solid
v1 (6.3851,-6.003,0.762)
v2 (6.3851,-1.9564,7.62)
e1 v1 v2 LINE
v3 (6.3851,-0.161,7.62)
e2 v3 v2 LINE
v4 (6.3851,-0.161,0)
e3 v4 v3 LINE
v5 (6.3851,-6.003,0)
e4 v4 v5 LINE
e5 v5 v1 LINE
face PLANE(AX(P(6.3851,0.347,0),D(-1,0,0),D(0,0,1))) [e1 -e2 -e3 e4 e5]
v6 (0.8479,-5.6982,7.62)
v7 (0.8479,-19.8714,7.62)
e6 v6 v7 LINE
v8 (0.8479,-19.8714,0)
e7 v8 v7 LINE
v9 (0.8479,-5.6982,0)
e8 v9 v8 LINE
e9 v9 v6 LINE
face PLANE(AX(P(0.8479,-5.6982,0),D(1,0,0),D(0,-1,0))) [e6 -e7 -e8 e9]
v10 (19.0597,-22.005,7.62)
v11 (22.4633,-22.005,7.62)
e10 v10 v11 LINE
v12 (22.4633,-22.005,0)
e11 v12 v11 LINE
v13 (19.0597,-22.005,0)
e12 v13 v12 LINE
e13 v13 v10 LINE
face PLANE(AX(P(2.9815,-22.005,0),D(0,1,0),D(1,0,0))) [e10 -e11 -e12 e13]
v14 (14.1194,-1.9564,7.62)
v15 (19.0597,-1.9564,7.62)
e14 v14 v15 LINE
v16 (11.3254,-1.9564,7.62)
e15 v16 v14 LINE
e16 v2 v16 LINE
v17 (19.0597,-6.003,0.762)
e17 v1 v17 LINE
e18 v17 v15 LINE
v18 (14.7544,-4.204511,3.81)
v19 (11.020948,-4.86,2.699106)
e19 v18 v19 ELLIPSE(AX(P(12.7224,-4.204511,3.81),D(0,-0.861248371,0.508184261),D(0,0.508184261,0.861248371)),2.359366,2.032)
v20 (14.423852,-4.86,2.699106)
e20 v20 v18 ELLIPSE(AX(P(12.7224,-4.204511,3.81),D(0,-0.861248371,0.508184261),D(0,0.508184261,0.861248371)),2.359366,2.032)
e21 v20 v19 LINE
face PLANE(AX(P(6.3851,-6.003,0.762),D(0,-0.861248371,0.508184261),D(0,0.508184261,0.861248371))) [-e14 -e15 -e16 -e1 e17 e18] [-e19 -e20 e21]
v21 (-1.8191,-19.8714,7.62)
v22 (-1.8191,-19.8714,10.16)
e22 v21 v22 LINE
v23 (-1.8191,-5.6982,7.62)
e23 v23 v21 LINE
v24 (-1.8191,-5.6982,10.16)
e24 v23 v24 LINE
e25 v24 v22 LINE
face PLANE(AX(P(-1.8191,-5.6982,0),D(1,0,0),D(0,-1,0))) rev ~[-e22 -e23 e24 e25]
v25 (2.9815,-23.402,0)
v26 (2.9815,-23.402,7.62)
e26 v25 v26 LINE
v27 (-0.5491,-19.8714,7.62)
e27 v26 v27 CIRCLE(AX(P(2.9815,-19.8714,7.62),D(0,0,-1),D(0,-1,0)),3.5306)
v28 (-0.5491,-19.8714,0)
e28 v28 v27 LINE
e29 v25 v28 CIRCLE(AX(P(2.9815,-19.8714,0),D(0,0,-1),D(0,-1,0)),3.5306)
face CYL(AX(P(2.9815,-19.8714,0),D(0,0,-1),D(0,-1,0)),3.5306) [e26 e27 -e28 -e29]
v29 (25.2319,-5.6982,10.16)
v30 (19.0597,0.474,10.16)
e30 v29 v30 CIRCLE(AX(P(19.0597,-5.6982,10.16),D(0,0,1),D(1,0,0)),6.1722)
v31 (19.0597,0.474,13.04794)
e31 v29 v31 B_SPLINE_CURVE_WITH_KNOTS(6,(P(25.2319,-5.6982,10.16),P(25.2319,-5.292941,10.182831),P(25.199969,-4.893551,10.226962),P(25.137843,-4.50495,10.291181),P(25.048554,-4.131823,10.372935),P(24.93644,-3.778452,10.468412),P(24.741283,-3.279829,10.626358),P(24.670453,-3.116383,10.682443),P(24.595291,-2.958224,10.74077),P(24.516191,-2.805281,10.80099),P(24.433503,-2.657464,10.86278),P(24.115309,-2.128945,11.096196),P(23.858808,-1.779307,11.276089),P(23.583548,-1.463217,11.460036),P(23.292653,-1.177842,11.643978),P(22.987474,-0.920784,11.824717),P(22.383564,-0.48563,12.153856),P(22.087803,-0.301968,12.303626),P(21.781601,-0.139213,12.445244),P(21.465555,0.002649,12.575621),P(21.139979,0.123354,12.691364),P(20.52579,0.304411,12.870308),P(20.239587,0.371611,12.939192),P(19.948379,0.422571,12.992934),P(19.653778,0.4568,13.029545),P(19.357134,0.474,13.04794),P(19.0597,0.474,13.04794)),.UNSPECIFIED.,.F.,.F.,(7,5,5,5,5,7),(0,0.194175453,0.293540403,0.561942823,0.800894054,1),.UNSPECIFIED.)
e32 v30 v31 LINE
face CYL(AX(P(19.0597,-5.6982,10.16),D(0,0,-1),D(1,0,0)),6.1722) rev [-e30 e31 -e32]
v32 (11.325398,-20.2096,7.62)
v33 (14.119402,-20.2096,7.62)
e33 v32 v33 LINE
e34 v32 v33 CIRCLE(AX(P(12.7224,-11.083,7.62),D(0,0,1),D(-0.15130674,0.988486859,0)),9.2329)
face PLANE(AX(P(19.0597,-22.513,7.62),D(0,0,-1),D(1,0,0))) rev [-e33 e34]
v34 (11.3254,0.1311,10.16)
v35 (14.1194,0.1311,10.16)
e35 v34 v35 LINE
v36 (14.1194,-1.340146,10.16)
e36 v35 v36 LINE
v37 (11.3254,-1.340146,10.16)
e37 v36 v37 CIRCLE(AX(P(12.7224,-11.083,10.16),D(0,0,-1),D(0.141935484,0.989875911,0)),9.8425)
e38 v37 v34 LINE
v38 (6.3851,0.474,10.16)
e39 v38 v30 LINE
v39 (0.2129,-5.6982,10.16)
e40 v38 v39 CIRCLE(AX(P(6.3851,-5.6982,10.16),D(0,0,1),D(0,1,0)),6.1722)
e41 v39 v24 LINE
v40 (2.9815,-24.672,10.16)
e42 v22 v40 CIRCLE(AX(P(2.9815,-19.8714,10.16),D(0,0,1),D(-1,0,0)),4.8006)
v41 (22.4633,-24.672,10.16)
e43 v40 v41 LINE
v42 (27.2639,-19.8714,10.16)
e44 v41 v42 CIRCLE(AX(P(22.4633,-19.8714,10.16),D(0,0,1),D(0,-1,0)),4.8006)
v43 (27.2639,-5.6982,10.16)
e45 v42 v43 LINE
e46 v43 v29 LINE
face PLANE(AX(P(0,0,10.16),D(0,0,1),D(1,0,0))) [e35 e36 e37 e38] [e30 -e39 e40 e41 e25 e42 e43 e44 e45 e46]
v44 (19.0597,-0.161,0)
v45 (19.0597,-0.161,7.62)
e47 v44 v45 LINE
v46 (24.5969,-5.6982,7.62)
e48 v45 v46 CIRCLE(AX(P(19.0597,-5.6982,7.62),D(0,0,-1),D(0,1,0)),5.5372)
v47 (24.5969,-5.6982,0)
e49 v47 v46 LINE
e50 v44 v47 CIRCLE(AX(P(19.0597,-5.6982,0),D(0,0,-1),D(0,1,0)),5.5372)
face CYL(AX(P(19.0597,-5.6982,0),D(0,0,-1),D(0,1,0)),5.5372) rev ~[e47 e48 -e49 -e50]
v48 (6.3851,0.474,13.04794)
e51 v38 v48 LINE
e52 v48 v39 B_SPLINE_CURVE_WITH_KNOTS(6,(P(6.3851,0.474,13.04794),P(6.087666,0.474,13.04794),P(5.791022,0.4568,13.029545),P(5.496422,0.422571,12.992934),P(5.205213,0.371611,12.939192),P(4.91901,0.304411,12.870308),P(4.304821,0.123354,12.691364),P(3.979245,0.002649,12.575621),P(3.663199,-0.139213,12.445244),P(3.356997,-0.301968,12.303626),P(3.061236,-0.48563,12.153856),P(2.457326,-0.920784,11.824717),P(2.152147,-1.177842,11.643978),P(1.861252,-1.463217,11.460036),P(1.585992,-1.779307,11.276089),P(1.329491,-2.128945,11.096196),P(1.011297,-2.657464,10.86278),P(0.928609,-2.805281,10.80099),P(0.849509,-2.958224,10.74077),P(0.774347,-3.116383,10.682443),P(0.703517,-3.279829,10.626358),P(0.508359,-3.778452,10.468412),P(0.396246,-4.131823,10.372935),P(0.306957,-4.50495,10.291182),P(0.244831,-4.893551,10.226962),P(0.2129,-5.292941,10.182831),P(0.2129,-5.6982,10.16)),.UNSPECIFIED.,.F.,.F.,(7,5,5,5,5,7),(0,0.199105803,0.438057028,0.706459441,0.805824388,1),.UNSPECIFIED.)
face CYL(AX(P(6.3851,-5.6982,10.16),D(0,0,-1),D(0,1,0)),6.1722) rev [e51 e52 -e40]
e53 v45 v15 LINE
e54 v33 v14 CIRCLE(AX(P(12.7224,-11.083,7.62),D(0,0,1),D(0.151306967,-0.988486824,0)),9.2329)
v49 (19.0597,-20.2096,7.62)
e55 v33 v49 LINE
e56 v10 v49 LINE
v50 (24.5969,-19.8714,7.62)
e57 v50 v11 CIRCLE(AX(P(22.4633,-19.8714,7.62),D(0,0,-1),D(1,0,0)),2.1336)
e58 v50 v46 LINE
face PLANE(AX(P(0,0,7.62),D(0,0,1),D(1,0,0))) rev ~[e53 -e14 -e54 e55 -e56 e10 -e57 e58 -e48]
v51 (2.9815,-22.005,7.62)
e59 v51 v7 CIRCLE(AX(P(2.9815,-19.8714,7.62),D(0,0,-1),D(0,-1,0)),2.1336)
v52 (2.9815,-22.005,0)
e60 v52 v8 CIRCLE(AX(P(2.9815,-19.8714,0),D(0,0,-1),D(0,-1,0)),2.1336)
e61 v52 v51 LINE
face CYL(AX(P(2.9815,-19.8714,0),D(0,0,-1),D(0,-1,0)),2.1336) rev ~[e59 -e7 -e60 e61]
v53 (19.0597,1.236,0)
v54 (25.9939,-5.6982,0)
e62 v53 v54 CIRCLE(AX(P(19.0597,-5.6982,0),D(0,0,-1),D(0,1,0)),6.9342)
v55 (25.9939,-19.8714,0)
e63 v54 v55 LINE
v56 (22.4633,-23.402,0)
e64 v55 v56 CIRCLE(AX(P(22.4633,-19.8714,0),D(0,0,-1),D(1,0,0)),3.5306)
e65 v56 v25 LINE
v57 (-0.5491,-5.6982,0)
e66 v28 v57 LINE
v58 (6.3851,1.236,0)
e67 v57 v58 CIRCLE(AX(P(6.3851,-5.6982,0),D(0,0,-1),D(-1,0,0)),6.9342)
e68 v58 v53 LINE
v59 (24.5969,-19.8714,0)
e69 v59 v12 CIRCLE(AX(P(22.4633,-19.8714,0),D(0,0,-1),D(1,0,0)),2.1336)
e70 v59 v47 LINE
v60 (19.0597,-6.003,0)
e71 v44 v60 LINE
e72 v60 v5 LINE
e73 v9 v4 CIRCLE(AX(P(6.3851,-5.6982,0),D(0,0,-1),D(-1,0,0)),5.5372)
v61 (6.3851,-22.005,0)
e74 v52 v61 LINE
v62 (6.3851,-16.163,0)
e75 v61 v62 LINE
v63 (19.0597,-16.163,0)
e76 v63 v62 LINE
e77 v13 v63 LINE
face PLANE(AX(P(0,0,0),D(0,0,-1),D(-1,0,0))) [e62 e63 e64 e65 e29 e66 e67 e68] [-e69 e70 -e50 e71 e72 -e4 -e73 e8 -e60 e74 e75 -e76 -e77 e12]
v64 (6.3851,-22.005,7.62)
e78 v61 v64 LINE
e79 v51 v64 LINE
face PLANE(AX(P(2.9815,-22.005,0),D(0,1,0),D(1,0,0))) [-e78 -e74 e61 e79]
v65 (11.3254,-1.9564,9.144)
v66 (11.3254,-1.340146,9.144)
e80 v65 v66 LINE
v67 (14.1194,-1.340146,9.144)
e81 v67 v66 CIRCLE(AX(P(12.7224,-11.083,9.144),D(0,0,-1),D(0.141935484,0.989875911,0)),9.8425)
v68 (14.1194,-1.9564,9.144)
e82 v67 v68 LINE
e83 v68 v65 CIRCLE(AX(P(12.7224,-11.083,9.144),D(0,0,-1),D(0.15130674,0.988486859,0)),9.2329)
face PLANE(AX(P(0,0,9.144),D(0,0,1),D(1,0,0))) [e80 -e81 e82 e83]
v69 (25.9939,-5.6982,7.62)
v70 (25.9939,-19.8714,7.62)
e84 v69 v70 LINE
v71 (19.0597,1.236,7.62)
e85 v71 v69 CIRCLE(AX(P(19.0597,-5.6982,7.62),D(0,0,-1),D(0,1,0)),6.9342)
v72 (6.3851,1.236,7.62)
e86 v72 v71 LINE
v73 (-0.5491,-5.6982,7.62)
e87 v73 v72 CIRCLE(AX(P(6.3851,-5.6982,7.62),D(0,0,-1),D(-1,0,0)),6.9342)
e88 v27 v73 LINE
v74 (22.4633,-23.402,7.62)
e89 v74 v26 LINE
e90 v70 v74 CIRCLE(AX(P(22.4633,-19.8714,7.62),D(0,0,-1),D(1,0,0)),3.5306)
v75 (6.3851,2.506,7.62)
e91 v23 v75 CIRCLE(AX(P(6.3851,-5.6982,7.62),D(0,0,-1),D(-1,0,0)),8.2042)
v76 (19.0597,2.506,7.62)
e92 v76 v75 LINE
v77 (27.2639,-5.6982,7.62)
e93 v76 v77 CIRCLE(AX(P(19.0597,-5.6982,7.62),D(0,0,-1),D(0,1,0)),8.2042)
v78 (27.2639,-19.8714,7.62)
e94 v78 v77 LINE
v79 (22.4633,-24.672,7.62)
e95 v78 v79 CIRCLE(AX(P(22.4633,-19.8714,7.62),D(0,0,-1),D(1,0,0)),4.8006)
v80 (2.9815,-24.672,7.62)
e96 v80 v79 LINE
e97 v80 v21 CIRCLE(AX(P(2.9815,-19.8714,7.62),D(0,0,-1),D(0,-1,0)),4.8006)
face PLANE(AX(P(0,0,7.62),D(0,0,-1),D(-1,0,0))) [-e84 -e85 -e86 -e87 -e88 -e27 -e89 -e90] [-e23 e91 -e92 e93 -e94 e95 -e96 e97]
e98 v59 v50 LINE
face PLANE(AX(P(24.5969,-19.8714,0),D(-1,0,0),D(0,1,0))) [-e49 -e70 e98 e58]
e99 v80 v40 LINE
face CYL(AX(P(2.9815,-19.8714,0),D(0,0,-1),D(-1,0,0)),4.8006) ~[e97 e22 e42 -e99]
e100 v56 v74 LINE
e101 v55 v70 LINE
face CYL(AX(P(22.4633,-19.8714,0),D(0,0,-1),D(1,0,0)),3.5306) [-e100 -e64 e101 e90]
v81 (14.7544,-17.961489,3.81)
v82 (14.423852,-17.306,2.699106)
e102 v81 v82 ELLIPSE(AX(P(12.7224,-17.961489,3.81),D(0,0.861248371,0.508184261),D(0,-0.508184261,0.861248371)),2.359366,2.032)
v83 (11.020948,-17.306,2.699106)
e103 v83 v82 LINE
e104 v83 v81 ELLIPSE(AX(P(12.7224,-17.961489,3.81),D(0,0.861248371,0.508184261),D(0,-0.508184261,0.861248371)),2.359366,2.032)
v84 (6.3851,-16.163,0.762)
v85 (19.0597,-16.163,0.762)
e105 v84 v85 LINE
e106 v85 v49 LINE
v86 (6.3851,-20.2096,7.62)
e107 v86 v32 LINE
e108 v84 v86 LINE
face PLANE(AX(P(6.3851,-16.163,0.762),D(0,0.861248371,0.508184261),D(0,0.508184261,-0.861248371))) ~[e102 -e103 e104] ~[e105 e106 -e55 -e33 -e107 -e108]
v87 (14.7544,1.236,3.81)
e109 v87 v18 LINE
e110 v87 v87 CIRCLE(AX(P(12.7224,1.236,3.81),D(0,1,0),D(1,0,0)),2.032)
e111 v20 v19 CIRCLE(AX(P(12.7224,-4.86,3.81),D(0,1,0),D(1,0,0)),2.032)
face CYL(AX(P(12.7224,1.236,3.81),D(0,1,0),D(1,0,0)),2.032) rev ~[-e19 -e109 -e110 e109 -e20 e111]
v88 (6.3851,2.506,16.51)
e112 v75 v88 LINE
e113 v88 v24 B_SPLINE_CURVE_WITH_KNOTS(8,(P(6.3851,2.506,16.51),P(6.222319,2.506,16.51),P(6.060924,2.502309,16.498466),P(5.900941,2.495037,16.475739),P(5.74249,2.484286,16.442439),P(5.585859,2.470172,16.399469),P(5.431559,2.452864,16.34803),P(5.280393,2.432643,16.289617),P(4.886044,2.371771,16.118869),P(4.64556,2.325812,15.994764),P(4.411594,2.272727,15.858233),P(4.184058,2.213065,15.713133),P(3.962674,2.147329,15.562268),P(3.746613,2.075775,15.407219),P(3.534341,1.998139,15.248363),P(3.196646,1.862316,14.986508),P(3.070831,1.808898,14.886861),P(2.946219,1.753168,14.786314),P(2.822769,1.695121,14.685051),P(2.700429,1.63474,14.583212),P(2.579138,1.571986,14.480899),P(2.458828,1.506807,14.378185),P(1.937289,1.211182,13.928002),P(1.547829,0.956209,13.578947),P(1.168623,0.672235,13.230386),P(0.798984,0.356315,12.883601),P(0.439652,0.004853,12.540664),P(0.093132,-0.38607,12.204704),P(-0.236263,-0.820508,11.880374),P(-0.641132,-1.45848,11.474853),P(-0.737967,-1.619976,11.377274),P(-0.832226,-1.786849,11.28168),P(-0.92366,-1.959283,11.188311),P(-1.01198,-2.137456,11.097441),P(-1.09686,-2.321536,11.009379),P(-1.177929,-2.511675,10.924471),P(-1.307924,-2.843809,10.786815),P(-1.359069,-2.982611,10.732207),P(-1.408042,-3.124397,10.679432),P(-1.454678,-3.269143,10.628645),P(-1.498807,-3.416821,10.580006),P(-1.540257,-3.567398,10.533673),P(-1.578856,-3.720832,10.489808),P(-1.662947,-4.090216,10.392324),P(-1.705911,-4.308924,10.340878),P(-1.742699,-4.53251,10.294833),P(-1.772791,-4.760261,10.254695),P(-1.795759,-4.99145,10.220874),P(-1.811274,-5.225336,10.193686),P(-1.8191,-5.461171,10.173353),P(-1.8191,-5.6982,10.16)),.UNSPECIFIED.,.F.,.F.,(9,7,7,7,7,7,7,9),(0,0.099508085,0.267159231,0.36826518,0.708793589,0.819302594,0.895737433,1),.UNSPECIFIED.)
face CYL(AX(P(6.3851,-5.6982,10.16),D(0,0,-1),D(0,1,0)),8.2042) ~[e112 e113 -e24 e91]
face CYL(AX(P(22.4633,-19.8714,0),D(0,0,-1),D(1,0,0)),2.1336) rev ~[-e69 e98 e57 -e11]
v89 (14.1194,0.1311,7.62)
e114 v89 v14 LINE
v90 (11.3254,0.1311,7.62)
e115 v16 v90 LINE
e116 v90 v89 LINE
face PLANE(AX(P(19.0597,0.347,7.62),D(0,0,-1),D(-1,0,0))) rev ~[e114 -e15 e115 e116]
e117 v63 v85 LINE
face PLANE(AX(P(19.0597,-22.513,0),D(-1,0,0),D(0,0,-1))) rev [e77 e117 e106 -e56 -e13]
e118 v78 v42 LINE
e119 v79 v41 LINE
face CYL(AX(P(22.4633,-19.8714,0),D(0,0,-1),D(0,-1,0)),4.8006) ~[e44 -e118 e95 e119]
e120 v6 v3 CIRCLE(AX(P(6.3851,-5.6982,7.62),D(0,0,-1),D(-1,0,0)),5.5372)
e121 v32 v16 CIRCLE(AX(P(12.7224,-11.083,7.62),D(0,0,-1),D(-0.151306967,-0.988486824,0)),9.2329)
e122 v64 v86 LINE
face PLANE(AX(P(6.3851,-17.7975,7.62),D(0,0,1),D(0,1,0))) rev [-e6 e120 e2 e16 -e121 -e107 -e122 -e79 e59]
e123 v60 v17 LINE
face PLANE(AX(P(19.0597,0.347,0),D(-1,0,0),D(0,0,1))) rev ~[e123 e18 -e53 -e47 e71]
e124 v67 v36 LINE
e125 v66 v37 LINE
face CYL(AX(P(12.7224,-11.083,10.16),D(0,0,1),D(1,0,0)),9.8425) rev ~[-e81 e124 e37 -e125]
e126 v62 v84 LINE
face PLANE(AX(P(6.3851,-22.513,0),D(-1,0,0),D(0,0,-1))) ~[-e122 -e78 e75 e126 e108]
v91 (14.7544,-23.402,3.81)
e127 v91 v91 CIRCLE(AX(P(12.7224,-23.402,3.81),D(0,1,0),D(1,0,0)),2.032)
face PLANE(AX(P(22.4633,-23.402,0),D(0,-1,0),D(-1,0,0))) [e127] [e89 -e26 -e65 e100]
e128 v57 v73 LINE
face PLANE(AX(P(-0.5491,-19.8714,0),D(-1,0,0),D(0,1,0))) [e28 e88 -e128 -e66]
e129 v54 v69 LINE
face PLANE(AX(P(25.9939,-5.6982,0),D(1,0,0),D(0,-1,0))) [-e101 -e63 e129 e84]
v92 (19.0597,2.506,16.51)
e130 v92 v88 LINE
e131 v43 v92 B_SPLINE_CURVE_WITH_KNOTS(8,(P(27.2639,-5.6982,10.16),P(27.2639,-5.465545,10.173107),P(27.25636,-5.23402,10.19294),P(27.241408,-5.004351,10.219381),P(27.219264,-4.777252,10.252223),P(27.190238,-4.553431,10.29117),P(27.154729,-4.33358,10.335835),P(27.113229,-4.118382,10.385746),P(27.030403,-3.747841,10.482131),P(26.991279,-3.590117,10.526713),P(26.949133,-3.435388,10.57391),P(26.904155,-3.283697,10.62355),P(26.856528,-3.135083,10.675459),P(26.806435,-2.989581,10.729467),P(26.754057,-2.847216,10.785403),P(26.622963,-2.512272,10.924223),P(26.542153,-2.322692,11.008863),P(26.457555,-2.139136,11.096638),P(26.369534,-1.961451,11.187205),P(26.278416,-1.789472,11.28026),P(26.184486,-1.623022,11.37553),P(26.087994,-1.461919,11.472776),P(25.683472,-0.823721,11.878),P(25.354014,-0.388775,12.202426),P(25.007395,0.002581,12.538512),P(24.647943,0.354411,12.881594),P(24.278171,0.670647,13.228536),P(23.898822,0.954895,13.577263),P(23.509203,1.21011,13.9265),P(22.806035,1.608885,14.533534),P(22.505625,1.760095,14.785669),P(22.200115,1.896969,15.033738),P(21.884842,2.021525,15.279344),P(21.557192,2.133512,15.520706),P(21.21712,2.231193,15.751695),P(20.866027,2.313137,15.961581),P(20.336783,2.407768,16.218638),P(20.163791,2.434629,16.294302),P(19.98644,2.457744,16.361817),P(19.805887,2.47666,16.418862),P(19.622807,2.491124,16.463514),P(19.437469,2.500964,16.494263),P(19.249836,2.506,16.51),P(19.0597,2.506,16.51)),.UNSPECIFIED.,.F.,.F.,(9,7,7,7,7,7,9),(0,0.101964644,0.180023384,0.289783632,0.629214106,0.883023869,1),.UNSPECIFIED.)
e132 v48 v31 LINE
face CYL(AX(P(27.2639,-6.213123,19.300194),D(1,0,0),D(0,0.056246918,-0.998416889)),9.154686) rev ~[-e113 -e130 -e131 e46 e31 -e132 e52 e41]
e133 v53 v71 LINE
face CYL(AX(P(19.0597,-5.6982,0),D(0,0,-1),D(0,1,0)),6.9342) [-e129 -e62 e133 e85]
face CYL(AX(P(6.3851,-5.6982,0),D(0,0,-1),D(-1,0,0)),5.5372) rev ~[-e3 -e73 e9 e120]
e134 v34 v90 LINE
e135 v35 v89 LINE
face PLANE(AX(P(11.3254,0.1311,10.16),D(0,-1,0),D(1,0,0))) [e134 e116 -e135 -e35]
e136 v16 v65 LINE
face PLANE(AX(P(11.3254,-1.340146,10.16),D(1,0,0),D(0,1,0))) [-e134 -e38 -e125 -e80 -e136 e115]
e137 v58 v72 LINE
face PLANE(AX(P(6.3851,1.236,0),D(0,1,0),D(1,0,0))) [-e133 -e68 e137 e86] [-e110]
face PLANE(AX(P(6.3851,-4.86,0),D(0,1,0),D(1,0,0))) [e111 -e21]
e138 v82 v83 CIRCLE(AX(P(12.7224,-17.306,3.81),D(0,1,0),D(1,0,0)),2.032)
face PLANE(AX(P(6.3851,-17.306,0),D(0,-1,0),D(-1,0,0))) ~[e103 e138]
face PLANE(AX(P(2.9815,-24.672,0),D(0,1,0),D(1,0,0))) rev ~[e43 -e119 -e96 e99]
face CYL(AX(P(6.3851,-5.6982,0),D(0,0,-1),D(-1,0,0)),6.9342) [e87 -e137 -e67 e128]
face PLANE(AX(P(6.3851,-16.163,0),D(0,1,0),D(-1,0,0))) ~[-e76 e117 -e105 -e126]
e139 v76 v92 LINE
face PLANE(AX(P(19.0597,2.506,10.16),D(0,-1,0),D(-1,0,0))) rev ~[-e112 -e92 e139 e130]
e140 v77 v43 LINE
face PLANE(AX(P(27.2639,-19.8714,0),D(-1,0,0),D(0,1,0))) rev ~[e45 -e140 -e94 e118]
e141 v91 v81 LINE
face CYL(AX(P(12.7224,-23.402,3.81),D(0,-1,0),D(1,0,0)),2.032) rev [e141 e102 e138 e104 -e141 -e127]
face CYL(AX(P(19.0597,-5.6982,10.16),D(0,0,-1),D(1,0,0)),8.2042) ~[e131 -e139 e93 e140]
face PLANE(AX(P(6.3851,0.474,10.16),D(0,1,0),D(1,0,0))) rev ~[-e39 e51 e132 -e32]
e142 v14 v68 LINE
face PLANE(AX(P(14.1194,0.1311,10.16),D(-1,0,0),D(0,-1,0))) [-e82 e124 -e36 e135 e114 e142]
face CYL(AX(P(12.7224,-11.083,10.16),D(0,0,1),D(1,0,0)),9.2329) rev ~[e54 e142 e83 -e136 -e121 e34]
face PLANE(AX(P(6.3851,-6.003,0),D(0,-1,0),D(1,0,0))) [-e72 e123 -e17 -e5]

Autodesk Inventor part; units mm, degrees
ref_plane "XZ Plane" through (0, 0, 0) normal (0, 1, 0) x (-1, 0, 0)
ref_plane "XY Plane" through (0, 0, 0) normal (0, 0, 1) x (1, 0, 0)
sketch "Sketch2" plane through (0, 0, 0) normal (0, 0, 1) x (1, 0, 0)
  line L0 (25.1049, -5.6982) -> (25.1049, -19.8714) projected
  arc A0 (22.4633, -22.513) -> (25.1049, -19.8714) centre (22.4633, -19.8714) ccw projected
  line L1 (22.4633, -22.513) -> (2.9815, -22.513) projected
  arc A1 (0.3399, -19.8714) -> (2.9815, -22.513) centre (2.9815, -19.8714) ccw projected
  line L2 (0.3399, -19.8714) -> (0.3399, -5.6982) projected
  arc A2 (6.3851, 0.347) -> (0.3399, -5.6982) centre (6.3851, -5.6982) ccw projected
  line L3 (6.3851, 0.347) -> (19.0597, 0.347) projected
  arc A3 (25.1049, -5.6982) -> (19.0597, 0.347) centre (19.0597, -5.6982) ccw projected
  line L4 (19.0597, 2.506) -> (6.3851, 2.506) projected
  arc A4 (6.3851, 2.506) -> (-1.8191, -5.6982) centre (6.3851, -5.6982) ccw projected
  line L5 (-1.8191, -5.6982) -> (-1.8191, -19.8714) projected
  arc A5 (-1.8191, -19.8714) -> (2.9815, -24.672) centre (2.9815, -19.8714) ccw projected
  line L6 (2.9815, -24.672) -> (22.4633, -24.672) projected
  arc A6 (22.4633, -24.672) -> (27.2639, -19.8714) centre (22.4633, -19.8714) ccw projected
  line L7 (27.2639, -19.8714) -> (27.2639, -5.6982) projected
  arc A7 (27.2639, -5.6982) -> (19.0597, 2.506) centre (19.0597, -5.6982) ccw projected
  line L8 (19.0597, -0.923) -> (6.3851, -0.923)
  arc A8 (6.3851, -0.923) -> (1.6099, -5.6982) centre (6.3851, -5.6982) ccw
  line L9 (1.6099, -5.6982) -> (1.6099, -19.8714)
  arc A9 (1.6099, -19.8714) -> (2.9815, -21.243) centre (2.9815, -19.8714) ccw
  line L10 (2.9815, -21.243) -> (22.4633, -21.243)
  arc A10 (22.4633, -21.243) -> (23.8349, -19.8714) centre (22.4633, -19.8714) ccw
  line L11 (23.8349, -19.8714) -> (23.8349, -5.6982)
  arc A11 (23.8349, -5.6982) -> (19.0597, -0.923) centre (19.0597, -5.6982) ccw
  point P0 (0, 0)
  dimension "d30" = 1.27
extrude "Extrusion1" add sketch "Sketch2" along normal blind 10.16 contours A7 L7 A6 L6 A5 L5 A4 L4
sketch "Sketch6" plane through (0, 0, 10.16) normal (0, 0, 1) x (1, 0, 0)
  arc A0 (22.4633, -22.513) -> (25.1049, -19.8714) centre (22.4633, -19.8714) ccw projected
  line L0 (22.4633, -22.513) -> (2.9815, -22.513) projected
  arc A1 (0.3399, -19.8714) -> (2.9815, -22.513) centre (2.9815, -19.8714) ccw projected
  line L1 (0.3399, -19.8714) -> (0.3399, -5.6982) projected
  arc A2 (6.3851, 0.347) -> (0.3399, -5.6982) centre (6.3851, -5.6982) ccw projected
  line L2 (6.3851, 0.347) -> (19.0597, 0.347) projected
  arc A3 (25.1049, -5.6982) -> (19.0597, 0.347) centre (19.0597, -5.6982) ccw projected
  line L3 (25.1049, -5.6982) -> (25.1049, -19.8714) projected
  line L4 (19.0597, 2.506) -> (6.3851, 2.506) projected
  arc A4 (6.3851, 2.506) -> (-1.8191, -5.6982) centre (6.3851, -5.6982) ccw projected
  line L5 (-1.8191, -5.6982) -> (-1.8191, -19.8714) projected
  arc A5 (-1.8191, -19.8714) -> (2.9815, -24.672) centre (2.9815, -19.8714) ccw projected
  line L6 (2.9815, -24.672) -> (22.4633, -24.672) projected
  arc A6 (22.4633, -24.672) -> (27.2639, -19.8714) centre (22.4633, -19.8714) ccw projected
  line L7 (27.2639, -19.8714) -> (27.2639, -5.6982) projected
  arc A7 (27.2639, -5.6982) -> (19.0597, 2.506) centre (19.0597, -5.6982) ccw projected
  point P0 (0, 0)
extrude "Extrusion2" add sketch "Sketch6" against normal blind 2.54 contours L0 A1 L1 A2 L2 A3 L3 A0
sketch "Sketch7" plane through (0, 0, 10.16) normal (0, 0, 1) x (1, 0, 0)
  circle A0 centre (12.7224, -11.083) radius 9.2329
  line L0 (27.2639, -19.8714) -> (27.2639, -5.6982) construction
  line L1 (19.0597, 2.506) -> (6.3851, 2.506) construction
  line L2 (2.9815, -24.672) -> (22.4633, -24.672) construction
  line L3 (-1.8191, -5.6982) -> (-1.8191, -19.8714) construction
  line L4 (10.7523, 2.506) -> (10.7523, -24.672) construction
  line L5 (-1.8191, -7.0342) -> (27.2639, -7.0342) construction
  point P0 (0, 0)
  point P1 (12.7224, -7.0342)
  point P2 (10.7523, -11.083)
  dimension "d8" = 18.4658
extrude "Extrusion3" cut sketch "Sketch7" against normal up to next
sketch "Sketch8" plane through (0, 0, 10.16) normal (0, 0, 1) x (1, 0, 0)
  circle A0 centre (12.7224, -11.083) radius 9.2329 projected
  circle A1 centre (12.7224, -11.083) radius 9.8425
  point P0 (0, 0)
  dimension "d16" = 19.685
extrude "Extrusion4" cut sketch "Sketch8" against normal blind 1.016
sketch "Sketch9" plane through (0, 0, 10.16) normal (0, 0, 1) x (1, 0, 0)
  line L0 (11.3254, 0.1311) -> (14.1194, 0.1311)
  line L1 (14.1194, 0.1311) -> (14.1194, -3.581)
  line L2 (14.1194, -3.581) -> (11.3254, -3.581)
  line L3 (11.3254, -3.581) -> (11.3254, 0.1311)
  circle A0 centre (12.7224, -11.083) radius 9.8425 projected
  line L4 (15.693, -1.2405) -> (10.0356, -1.2405) construction
  point P0 (0, 0)
  point P1 (12.7224, 0.1311)
  dimension "d19" = 2.794
  dimension "d21" = 1.3716
extrude "Extrusion5" cut sketch "Sketch9" against normal blind 3.175 contours L0 L1 A0 L3 | A0 L1 L2 L3 picked at (12.5667, -2.8045)
sketch "Sketch10" plane through (6.3851, 0.347, 0) normal (0, -1, 0) x (1, 0, 0)
  line L0 (12.6746, 7.62) -> (0, 7.62) projected
  line L1 (0, 0) -> (0, 7.62) projected
  line L2 (12.6746, 0) -> (0, 0) projected
  line L3 (12.6746, 0) -> (12.6746, 7.62) projected
  point P0 (-6.3851, 0)
extrude "Extrusion6" add sketch "Sketch10" along normal blind 6.35
sketch "Sketch11" plane through (6.3851, -6.003, 0) normal (-1, 0, 0) x (0, 0, 1)
  line L0 (8.0792, 4.1021) -> (0.254, -0.4699)
  line L1 (7.62, 1.6345) -> (7.62, 4.0466) projected
  line L2 (7.62, 1.6345) -> (7.62, 0) projected
  line L3 (7.62, 0) -> (7.62, 4.064)
  line L4 (7.62, 0) -> (0.762, 0)
  line L5 (0, 0) -> (7.62, 0) projected
  line L6 (7.62, 4.0466) -> (9.144, 4.0466) projected
  line L7 (0.762, 0) -> (7.62, 4.0466)
  point P0 (0, 6.003)
  dimension "d26" = 4.064
  dimension "d27" = 6.858
extrude "Extrusion7" cut sketch "Sketch11" against normal up to surface (12.6746 mm away) contours L1 L2 L4 L0 | L0 L4 L7 L1
ref_plane "Work Plane2" through (2.9815, -11.083, 0) normal (0, -1, 0) x (1, 0, 0)
mirror "Mirror1" about plane through (2.9815, -11.083, 0) normal (0, -1, 0) of "Extrusion6", "Extrusion7"
sketch "Sketch13" plane through (0, 0, 0) normal (0, 0, -1) x (-1, 0, 0)
  line L0 (-25.1049, -5.6982) -> (-25.1049, -19.8714) projected
  arc A0 (-25.1049, -19.8714) -> (-22.4633, -22.513) centre (-22.4633, -19.8714) ccw projected
  line L1 (-22.4633, -22.513) -> (-2.9815, -22.513) projected
  arc A1 (-2.9815, -22.513) -> (-0.3399, -19.8714) centre (-2.9815, -19.8714) ccw projected
  line L2 (-0.3399, -19.8714) -> (-0.3399, -5.6982) projected
  arc A2 (-0.3399, -5.6982) -> (-6.3851, 0.347) centre (-6.3851, -5.6982) ccw projected
  line L3 (-6.3851, 0.347) -> (-19.0597, 0.347) projected
  arc A3 (-19.0597, 0.347) -> (-25.1049, -5.6982) centre (-19.0597, -5.6982) ccw projected
  line L4 (-19.0597, 2.506) -> (-6.3851, 2.506) projected
  arc A4 (1.8191, -5.6982) -> (-6.3851, 2.506) centre (-6.3851, -5.6982) ccw projected
  line L5 (1.8191, -5.6982) -> (1.8191, -19.8714) projected
  arc A5 (-2.9815, -24.672) -> (1.8191, -19.8714) centre (-2.9815, -19.8714) ccw projected
  line L6 (-2.9815, -24.672) -> (-22.4633, -24.672) projected
  arc A6 (-27.2639, -19.8714) -> (-22.4633, -24.672) centre (-22.4633, -19.8714) ccw projected
  line L7 (-27.2639, -19.8714) -> (-27.2639, -5.6982) projected
  arc A7 (-19.0597, 2.506) -> (-27.2639, -5.6982) centre (-19.0597, -5.6982) ccw projected
  line L8 (-19.0597, -0.161) -> (-6.3851, -0.161)
  arc A8 (-0.8479, -5.6982) -> (-6.3851, -0.161) centre (-6.3851, -5.6982) ccw
  line L9 (-0.8479, -5.6982) -> (-0.8479, -19.8714)
  arc A9 (-2.9815, -22.005) -> (-0.8479, -19.8714) centre (-2.9815, -19.8714) ccw
  line L10 (-2.9815, -22.005) -> (-22.4633, -22.005)
  arc A10 (-24.5969, -19.8714) -> (-22.4633, -22.005) centre (-22.4633, -19.8714) ccw
  line L11 (-24.5969, -19.8714) -> (-24.5969, -5.6982)
  arc A11 (-19.0597, -0.161) -> (-24.5969, -5.6982) centre (-19.0597, -5.6982) ccw
  point P0 (0, 0)
  dimension "d32" = 0.508
extrude "Extrusion8" add sketch "Sketch13" against normal up to surface (7.62 mm away) contours A3 L3 A2 L2 A1 L1 A0 L0
sketch "Sketch14" plane through (0, 0, 10.16) normal (0, 0, 1) x (1, 0, 0)
  line L0 (19.0597, 2.506) -> (6.3851, 2.506) projected
  arc A0 (6.3851, 2.506) -> (-1.8191, -5.6982) centre (6.3851, -5.6982) ccw projected
  line L1 (-1.8191, -5.6982) -> (-1.8191, -19.8714) projected
  arc A1 (-1.8191, -19.8714) -> (2.9815, -24.672) centre (2.9815, -19.8714) ccw projected
  line L2 (2.9815, -24.672) -> (22.4633, -24.672) projected
  arc A2 (22.4633, -24.672) -> (27.2639, -19.8714) centre (22.4633, -19.8714) ccw projected
  line L3 (27.2639, -19.8714) -> (27.2639, -5.6982) projected
  arc A3 (27.2639, -5.6982) -> (19.0597, 2.506) centre (19.0597, -5.6982) ccw projected
  line L4 (11.3254, -1.3402) -> (11.3254, 0.1311) projected
  line L5 (11.3254, 0.1311) -> (14.1194, 0.1311) projected
  line L6 (14.1194, 0.1311) -> (14.1194, -1.3402) projected
  arc A4 (11.3254, -1.3402) -> (14.1194, -1.3402) centre (12.7224, -11.083) ccw projected
  line L7 (6.3851, 0.474) -> (19.0597, 0.474)
  arc A5 (25.2319, -5.6982) -> (19.0597, 0.474) centre (19.0597, -5.6982) ccw
  line L8 (25.2319, -5.6982) -> (25.2319, -19.8714)
  arc A6 (22.4633, -22.64) -> (25.2319, -19.8714) centre (22.4633, -19.8714) ccw
  line L9 (22.4633, -22.64) -> (2.9815, -22.64)
  arc A7 (0.2129, -19.8714) -> (2.9815, -22.64) centre (2.9815, -19.8714) ccw
  line L10 (0.2129, -19.8714) -> (0.2129, -5.6982)
  arc A8 (6.3851, 0.474) -> (0.2129, -5.6982) centre (6.3851, -5.6982) ccw
  arc A9 (27.2639, -5.6982) -> (19.0597, 2.506) centre (19.0597, -5.6982) ccw projected
  line L11 (27.2639, -19.8714) -> (27.2639, -5.6982) projected
  line L12 (27.2639, -5.6982) -> (25.2319, -5.6982)
  line L13 (0.2129, -5.6982) -> (-1.8191, -5.6982)
  point P0 (0, 0)
  dimension "d35" = 2.032
extrude "Extrusion9" add sketch "Sketch14" along normal blind 6.35 contours A3 L12 A5 L7 A8 L13 A0 L0
sketch "Sketch15" plane through (27.2639, -19.8714, 0) normal (1, 0, 0) x (0, 0, -1)
  line L0 (-10.16, 14.1732) -> (-16.51, 14.1732) projected
  line L1 (-16.51, 22.3774) -> (-16.51, 14.1732) projected
  arc A0 (-10.16, 14.1732) -> (-16.51, 22.3774) centre (-19.3004, 13.6582) ccw
  line L2 (-10.16, 14.1732) -> (-16.51, 14.1732) projected
  point P0 (0, 19.8714)
extrude "Extrusion10" cut sketch "Sketch15" against normal through all
sketch "Sketch16" plane through (0, 0, 0) normal (0, 0, -1) x (-1, 0, 0)
  line L0 (-25.1049, -5.6982) -> (-25.1049, -19.8714) projected
  arc A0 (-25.1049, -19.8714) -> (-22.4633, -22.513) centre (-22.4633, -19.8714) ccw projected
  line L1 (-22.4633, -22.513) -> (-2.9815, -22.513) projected
  arc A1 (-2.9815, -22.513) -> (-0.3399, -19.8714) centre (-2.9815, -19.8714) ccw projected
  line L2 (-0.3399, -19.8714) -> (-0.3399, -5.6982) projected
  arc A2 (-0.3399, -5.6982) -> (-6.3851, 0.347) centre (-6.3851, -5.6982) ccw projected
  line L3 (-6.3851, 0.347) -> (-19.0597, 0.347) projected
  arc A3 (-19.0597, 0.347) -> (-25.1049, -5.6982) centre (-19.0597, -5.6982) ccw projected
  line L4 (-19.0597, 2.506) -> (-6.3851, 2.506) projected
  arc A4 (1.8191, -5.6982) -> (-6.3851, 2.506) centre (-6.3851, -5.6982) ccw projected
  line L5 (1.8191, -5.6982) -> (1.8191, -19.8714) projected
  arc A5 (-2.9815, -24.672) -> (1.8191, -19.8714) centre (-2.9815, -19.8714) ccw projected
  line L6 (-2.9815, -24.672) -> (-22.4633, -24.672) projected
  arc A6 (-27.2639, -19.8714) -> (-22.4633, -24.672) centre (-22.4633, -19.8714) ccw projected
  line L7 (-27.2639, -19.8714) -> (-27.2639, -5.6982) projected
  arc A7 (-19.0597, 2.506) -> (-27.2639, -5.6982) centre (-19.0597, -5.6982) ccw projected
  line L8 (-25.9939, -5.6982) -> (-25.9939, -19.8714)
  arc A8 (-25.9939, -19.8714) -> (-22.4633, -23.402) centre (-22.4633, -19.8714) ccw
  line L9 (-22.4633, -23.402) -> (-2.9815, -23.402)
  arc A9 (-2.9815, -23.402) -> (0.5491, -19.8714) centre (-2.9815, -19.8714) ccw
  line L10 (0.5491, -19.8714) -> (0.5491, -5.6982)
  arc A10 (0.5491, -5.6982) -> (-6.3851, 1.236) centre (-6.3851, -5.6982) ccw
  line L11 (-6.3851, 1.236) -> (-19.0597, 1.236)
  arc A11 (-19.0597, 1.236) -> (-25.9939, -5.6982) centre (-19.0597, -5.6982) ccw
  point P0 (0, 0)
  dimension "d40" = 1.27
extrude "Extrusion11" cut sketch "Sketch16" against normal blind 7.62 contours L4 A4 L5 A5 L6 A6 L7 A7
sketch "Sketch17" plane through (6.3851, 1.236, 0) normal (0, 1, 0) x (1, 0, 0)
  circle A0 centre (6.3373, -3.81) radius 2.032
  line L0 (12.6746, -7.62) -> (0, -7.62) projected
  line L1 (0, 0) -> (0, -7.62) projected
  point P0 (-6.3851, 0)
  point P1 (6.3373, -7.62)
  point P2 (0, -3.81)
  dimension "d43" = 4.064
  dimension "d44" = 3.81
extrude "Extrusion12" cut sketch "Sketch17" against normal blind 6.096
mirror "Mirror2" about plane through (2.9815, -11.083, 0) normal (0, -1, 0) of "Extrusion12"
properties part number "Front"
